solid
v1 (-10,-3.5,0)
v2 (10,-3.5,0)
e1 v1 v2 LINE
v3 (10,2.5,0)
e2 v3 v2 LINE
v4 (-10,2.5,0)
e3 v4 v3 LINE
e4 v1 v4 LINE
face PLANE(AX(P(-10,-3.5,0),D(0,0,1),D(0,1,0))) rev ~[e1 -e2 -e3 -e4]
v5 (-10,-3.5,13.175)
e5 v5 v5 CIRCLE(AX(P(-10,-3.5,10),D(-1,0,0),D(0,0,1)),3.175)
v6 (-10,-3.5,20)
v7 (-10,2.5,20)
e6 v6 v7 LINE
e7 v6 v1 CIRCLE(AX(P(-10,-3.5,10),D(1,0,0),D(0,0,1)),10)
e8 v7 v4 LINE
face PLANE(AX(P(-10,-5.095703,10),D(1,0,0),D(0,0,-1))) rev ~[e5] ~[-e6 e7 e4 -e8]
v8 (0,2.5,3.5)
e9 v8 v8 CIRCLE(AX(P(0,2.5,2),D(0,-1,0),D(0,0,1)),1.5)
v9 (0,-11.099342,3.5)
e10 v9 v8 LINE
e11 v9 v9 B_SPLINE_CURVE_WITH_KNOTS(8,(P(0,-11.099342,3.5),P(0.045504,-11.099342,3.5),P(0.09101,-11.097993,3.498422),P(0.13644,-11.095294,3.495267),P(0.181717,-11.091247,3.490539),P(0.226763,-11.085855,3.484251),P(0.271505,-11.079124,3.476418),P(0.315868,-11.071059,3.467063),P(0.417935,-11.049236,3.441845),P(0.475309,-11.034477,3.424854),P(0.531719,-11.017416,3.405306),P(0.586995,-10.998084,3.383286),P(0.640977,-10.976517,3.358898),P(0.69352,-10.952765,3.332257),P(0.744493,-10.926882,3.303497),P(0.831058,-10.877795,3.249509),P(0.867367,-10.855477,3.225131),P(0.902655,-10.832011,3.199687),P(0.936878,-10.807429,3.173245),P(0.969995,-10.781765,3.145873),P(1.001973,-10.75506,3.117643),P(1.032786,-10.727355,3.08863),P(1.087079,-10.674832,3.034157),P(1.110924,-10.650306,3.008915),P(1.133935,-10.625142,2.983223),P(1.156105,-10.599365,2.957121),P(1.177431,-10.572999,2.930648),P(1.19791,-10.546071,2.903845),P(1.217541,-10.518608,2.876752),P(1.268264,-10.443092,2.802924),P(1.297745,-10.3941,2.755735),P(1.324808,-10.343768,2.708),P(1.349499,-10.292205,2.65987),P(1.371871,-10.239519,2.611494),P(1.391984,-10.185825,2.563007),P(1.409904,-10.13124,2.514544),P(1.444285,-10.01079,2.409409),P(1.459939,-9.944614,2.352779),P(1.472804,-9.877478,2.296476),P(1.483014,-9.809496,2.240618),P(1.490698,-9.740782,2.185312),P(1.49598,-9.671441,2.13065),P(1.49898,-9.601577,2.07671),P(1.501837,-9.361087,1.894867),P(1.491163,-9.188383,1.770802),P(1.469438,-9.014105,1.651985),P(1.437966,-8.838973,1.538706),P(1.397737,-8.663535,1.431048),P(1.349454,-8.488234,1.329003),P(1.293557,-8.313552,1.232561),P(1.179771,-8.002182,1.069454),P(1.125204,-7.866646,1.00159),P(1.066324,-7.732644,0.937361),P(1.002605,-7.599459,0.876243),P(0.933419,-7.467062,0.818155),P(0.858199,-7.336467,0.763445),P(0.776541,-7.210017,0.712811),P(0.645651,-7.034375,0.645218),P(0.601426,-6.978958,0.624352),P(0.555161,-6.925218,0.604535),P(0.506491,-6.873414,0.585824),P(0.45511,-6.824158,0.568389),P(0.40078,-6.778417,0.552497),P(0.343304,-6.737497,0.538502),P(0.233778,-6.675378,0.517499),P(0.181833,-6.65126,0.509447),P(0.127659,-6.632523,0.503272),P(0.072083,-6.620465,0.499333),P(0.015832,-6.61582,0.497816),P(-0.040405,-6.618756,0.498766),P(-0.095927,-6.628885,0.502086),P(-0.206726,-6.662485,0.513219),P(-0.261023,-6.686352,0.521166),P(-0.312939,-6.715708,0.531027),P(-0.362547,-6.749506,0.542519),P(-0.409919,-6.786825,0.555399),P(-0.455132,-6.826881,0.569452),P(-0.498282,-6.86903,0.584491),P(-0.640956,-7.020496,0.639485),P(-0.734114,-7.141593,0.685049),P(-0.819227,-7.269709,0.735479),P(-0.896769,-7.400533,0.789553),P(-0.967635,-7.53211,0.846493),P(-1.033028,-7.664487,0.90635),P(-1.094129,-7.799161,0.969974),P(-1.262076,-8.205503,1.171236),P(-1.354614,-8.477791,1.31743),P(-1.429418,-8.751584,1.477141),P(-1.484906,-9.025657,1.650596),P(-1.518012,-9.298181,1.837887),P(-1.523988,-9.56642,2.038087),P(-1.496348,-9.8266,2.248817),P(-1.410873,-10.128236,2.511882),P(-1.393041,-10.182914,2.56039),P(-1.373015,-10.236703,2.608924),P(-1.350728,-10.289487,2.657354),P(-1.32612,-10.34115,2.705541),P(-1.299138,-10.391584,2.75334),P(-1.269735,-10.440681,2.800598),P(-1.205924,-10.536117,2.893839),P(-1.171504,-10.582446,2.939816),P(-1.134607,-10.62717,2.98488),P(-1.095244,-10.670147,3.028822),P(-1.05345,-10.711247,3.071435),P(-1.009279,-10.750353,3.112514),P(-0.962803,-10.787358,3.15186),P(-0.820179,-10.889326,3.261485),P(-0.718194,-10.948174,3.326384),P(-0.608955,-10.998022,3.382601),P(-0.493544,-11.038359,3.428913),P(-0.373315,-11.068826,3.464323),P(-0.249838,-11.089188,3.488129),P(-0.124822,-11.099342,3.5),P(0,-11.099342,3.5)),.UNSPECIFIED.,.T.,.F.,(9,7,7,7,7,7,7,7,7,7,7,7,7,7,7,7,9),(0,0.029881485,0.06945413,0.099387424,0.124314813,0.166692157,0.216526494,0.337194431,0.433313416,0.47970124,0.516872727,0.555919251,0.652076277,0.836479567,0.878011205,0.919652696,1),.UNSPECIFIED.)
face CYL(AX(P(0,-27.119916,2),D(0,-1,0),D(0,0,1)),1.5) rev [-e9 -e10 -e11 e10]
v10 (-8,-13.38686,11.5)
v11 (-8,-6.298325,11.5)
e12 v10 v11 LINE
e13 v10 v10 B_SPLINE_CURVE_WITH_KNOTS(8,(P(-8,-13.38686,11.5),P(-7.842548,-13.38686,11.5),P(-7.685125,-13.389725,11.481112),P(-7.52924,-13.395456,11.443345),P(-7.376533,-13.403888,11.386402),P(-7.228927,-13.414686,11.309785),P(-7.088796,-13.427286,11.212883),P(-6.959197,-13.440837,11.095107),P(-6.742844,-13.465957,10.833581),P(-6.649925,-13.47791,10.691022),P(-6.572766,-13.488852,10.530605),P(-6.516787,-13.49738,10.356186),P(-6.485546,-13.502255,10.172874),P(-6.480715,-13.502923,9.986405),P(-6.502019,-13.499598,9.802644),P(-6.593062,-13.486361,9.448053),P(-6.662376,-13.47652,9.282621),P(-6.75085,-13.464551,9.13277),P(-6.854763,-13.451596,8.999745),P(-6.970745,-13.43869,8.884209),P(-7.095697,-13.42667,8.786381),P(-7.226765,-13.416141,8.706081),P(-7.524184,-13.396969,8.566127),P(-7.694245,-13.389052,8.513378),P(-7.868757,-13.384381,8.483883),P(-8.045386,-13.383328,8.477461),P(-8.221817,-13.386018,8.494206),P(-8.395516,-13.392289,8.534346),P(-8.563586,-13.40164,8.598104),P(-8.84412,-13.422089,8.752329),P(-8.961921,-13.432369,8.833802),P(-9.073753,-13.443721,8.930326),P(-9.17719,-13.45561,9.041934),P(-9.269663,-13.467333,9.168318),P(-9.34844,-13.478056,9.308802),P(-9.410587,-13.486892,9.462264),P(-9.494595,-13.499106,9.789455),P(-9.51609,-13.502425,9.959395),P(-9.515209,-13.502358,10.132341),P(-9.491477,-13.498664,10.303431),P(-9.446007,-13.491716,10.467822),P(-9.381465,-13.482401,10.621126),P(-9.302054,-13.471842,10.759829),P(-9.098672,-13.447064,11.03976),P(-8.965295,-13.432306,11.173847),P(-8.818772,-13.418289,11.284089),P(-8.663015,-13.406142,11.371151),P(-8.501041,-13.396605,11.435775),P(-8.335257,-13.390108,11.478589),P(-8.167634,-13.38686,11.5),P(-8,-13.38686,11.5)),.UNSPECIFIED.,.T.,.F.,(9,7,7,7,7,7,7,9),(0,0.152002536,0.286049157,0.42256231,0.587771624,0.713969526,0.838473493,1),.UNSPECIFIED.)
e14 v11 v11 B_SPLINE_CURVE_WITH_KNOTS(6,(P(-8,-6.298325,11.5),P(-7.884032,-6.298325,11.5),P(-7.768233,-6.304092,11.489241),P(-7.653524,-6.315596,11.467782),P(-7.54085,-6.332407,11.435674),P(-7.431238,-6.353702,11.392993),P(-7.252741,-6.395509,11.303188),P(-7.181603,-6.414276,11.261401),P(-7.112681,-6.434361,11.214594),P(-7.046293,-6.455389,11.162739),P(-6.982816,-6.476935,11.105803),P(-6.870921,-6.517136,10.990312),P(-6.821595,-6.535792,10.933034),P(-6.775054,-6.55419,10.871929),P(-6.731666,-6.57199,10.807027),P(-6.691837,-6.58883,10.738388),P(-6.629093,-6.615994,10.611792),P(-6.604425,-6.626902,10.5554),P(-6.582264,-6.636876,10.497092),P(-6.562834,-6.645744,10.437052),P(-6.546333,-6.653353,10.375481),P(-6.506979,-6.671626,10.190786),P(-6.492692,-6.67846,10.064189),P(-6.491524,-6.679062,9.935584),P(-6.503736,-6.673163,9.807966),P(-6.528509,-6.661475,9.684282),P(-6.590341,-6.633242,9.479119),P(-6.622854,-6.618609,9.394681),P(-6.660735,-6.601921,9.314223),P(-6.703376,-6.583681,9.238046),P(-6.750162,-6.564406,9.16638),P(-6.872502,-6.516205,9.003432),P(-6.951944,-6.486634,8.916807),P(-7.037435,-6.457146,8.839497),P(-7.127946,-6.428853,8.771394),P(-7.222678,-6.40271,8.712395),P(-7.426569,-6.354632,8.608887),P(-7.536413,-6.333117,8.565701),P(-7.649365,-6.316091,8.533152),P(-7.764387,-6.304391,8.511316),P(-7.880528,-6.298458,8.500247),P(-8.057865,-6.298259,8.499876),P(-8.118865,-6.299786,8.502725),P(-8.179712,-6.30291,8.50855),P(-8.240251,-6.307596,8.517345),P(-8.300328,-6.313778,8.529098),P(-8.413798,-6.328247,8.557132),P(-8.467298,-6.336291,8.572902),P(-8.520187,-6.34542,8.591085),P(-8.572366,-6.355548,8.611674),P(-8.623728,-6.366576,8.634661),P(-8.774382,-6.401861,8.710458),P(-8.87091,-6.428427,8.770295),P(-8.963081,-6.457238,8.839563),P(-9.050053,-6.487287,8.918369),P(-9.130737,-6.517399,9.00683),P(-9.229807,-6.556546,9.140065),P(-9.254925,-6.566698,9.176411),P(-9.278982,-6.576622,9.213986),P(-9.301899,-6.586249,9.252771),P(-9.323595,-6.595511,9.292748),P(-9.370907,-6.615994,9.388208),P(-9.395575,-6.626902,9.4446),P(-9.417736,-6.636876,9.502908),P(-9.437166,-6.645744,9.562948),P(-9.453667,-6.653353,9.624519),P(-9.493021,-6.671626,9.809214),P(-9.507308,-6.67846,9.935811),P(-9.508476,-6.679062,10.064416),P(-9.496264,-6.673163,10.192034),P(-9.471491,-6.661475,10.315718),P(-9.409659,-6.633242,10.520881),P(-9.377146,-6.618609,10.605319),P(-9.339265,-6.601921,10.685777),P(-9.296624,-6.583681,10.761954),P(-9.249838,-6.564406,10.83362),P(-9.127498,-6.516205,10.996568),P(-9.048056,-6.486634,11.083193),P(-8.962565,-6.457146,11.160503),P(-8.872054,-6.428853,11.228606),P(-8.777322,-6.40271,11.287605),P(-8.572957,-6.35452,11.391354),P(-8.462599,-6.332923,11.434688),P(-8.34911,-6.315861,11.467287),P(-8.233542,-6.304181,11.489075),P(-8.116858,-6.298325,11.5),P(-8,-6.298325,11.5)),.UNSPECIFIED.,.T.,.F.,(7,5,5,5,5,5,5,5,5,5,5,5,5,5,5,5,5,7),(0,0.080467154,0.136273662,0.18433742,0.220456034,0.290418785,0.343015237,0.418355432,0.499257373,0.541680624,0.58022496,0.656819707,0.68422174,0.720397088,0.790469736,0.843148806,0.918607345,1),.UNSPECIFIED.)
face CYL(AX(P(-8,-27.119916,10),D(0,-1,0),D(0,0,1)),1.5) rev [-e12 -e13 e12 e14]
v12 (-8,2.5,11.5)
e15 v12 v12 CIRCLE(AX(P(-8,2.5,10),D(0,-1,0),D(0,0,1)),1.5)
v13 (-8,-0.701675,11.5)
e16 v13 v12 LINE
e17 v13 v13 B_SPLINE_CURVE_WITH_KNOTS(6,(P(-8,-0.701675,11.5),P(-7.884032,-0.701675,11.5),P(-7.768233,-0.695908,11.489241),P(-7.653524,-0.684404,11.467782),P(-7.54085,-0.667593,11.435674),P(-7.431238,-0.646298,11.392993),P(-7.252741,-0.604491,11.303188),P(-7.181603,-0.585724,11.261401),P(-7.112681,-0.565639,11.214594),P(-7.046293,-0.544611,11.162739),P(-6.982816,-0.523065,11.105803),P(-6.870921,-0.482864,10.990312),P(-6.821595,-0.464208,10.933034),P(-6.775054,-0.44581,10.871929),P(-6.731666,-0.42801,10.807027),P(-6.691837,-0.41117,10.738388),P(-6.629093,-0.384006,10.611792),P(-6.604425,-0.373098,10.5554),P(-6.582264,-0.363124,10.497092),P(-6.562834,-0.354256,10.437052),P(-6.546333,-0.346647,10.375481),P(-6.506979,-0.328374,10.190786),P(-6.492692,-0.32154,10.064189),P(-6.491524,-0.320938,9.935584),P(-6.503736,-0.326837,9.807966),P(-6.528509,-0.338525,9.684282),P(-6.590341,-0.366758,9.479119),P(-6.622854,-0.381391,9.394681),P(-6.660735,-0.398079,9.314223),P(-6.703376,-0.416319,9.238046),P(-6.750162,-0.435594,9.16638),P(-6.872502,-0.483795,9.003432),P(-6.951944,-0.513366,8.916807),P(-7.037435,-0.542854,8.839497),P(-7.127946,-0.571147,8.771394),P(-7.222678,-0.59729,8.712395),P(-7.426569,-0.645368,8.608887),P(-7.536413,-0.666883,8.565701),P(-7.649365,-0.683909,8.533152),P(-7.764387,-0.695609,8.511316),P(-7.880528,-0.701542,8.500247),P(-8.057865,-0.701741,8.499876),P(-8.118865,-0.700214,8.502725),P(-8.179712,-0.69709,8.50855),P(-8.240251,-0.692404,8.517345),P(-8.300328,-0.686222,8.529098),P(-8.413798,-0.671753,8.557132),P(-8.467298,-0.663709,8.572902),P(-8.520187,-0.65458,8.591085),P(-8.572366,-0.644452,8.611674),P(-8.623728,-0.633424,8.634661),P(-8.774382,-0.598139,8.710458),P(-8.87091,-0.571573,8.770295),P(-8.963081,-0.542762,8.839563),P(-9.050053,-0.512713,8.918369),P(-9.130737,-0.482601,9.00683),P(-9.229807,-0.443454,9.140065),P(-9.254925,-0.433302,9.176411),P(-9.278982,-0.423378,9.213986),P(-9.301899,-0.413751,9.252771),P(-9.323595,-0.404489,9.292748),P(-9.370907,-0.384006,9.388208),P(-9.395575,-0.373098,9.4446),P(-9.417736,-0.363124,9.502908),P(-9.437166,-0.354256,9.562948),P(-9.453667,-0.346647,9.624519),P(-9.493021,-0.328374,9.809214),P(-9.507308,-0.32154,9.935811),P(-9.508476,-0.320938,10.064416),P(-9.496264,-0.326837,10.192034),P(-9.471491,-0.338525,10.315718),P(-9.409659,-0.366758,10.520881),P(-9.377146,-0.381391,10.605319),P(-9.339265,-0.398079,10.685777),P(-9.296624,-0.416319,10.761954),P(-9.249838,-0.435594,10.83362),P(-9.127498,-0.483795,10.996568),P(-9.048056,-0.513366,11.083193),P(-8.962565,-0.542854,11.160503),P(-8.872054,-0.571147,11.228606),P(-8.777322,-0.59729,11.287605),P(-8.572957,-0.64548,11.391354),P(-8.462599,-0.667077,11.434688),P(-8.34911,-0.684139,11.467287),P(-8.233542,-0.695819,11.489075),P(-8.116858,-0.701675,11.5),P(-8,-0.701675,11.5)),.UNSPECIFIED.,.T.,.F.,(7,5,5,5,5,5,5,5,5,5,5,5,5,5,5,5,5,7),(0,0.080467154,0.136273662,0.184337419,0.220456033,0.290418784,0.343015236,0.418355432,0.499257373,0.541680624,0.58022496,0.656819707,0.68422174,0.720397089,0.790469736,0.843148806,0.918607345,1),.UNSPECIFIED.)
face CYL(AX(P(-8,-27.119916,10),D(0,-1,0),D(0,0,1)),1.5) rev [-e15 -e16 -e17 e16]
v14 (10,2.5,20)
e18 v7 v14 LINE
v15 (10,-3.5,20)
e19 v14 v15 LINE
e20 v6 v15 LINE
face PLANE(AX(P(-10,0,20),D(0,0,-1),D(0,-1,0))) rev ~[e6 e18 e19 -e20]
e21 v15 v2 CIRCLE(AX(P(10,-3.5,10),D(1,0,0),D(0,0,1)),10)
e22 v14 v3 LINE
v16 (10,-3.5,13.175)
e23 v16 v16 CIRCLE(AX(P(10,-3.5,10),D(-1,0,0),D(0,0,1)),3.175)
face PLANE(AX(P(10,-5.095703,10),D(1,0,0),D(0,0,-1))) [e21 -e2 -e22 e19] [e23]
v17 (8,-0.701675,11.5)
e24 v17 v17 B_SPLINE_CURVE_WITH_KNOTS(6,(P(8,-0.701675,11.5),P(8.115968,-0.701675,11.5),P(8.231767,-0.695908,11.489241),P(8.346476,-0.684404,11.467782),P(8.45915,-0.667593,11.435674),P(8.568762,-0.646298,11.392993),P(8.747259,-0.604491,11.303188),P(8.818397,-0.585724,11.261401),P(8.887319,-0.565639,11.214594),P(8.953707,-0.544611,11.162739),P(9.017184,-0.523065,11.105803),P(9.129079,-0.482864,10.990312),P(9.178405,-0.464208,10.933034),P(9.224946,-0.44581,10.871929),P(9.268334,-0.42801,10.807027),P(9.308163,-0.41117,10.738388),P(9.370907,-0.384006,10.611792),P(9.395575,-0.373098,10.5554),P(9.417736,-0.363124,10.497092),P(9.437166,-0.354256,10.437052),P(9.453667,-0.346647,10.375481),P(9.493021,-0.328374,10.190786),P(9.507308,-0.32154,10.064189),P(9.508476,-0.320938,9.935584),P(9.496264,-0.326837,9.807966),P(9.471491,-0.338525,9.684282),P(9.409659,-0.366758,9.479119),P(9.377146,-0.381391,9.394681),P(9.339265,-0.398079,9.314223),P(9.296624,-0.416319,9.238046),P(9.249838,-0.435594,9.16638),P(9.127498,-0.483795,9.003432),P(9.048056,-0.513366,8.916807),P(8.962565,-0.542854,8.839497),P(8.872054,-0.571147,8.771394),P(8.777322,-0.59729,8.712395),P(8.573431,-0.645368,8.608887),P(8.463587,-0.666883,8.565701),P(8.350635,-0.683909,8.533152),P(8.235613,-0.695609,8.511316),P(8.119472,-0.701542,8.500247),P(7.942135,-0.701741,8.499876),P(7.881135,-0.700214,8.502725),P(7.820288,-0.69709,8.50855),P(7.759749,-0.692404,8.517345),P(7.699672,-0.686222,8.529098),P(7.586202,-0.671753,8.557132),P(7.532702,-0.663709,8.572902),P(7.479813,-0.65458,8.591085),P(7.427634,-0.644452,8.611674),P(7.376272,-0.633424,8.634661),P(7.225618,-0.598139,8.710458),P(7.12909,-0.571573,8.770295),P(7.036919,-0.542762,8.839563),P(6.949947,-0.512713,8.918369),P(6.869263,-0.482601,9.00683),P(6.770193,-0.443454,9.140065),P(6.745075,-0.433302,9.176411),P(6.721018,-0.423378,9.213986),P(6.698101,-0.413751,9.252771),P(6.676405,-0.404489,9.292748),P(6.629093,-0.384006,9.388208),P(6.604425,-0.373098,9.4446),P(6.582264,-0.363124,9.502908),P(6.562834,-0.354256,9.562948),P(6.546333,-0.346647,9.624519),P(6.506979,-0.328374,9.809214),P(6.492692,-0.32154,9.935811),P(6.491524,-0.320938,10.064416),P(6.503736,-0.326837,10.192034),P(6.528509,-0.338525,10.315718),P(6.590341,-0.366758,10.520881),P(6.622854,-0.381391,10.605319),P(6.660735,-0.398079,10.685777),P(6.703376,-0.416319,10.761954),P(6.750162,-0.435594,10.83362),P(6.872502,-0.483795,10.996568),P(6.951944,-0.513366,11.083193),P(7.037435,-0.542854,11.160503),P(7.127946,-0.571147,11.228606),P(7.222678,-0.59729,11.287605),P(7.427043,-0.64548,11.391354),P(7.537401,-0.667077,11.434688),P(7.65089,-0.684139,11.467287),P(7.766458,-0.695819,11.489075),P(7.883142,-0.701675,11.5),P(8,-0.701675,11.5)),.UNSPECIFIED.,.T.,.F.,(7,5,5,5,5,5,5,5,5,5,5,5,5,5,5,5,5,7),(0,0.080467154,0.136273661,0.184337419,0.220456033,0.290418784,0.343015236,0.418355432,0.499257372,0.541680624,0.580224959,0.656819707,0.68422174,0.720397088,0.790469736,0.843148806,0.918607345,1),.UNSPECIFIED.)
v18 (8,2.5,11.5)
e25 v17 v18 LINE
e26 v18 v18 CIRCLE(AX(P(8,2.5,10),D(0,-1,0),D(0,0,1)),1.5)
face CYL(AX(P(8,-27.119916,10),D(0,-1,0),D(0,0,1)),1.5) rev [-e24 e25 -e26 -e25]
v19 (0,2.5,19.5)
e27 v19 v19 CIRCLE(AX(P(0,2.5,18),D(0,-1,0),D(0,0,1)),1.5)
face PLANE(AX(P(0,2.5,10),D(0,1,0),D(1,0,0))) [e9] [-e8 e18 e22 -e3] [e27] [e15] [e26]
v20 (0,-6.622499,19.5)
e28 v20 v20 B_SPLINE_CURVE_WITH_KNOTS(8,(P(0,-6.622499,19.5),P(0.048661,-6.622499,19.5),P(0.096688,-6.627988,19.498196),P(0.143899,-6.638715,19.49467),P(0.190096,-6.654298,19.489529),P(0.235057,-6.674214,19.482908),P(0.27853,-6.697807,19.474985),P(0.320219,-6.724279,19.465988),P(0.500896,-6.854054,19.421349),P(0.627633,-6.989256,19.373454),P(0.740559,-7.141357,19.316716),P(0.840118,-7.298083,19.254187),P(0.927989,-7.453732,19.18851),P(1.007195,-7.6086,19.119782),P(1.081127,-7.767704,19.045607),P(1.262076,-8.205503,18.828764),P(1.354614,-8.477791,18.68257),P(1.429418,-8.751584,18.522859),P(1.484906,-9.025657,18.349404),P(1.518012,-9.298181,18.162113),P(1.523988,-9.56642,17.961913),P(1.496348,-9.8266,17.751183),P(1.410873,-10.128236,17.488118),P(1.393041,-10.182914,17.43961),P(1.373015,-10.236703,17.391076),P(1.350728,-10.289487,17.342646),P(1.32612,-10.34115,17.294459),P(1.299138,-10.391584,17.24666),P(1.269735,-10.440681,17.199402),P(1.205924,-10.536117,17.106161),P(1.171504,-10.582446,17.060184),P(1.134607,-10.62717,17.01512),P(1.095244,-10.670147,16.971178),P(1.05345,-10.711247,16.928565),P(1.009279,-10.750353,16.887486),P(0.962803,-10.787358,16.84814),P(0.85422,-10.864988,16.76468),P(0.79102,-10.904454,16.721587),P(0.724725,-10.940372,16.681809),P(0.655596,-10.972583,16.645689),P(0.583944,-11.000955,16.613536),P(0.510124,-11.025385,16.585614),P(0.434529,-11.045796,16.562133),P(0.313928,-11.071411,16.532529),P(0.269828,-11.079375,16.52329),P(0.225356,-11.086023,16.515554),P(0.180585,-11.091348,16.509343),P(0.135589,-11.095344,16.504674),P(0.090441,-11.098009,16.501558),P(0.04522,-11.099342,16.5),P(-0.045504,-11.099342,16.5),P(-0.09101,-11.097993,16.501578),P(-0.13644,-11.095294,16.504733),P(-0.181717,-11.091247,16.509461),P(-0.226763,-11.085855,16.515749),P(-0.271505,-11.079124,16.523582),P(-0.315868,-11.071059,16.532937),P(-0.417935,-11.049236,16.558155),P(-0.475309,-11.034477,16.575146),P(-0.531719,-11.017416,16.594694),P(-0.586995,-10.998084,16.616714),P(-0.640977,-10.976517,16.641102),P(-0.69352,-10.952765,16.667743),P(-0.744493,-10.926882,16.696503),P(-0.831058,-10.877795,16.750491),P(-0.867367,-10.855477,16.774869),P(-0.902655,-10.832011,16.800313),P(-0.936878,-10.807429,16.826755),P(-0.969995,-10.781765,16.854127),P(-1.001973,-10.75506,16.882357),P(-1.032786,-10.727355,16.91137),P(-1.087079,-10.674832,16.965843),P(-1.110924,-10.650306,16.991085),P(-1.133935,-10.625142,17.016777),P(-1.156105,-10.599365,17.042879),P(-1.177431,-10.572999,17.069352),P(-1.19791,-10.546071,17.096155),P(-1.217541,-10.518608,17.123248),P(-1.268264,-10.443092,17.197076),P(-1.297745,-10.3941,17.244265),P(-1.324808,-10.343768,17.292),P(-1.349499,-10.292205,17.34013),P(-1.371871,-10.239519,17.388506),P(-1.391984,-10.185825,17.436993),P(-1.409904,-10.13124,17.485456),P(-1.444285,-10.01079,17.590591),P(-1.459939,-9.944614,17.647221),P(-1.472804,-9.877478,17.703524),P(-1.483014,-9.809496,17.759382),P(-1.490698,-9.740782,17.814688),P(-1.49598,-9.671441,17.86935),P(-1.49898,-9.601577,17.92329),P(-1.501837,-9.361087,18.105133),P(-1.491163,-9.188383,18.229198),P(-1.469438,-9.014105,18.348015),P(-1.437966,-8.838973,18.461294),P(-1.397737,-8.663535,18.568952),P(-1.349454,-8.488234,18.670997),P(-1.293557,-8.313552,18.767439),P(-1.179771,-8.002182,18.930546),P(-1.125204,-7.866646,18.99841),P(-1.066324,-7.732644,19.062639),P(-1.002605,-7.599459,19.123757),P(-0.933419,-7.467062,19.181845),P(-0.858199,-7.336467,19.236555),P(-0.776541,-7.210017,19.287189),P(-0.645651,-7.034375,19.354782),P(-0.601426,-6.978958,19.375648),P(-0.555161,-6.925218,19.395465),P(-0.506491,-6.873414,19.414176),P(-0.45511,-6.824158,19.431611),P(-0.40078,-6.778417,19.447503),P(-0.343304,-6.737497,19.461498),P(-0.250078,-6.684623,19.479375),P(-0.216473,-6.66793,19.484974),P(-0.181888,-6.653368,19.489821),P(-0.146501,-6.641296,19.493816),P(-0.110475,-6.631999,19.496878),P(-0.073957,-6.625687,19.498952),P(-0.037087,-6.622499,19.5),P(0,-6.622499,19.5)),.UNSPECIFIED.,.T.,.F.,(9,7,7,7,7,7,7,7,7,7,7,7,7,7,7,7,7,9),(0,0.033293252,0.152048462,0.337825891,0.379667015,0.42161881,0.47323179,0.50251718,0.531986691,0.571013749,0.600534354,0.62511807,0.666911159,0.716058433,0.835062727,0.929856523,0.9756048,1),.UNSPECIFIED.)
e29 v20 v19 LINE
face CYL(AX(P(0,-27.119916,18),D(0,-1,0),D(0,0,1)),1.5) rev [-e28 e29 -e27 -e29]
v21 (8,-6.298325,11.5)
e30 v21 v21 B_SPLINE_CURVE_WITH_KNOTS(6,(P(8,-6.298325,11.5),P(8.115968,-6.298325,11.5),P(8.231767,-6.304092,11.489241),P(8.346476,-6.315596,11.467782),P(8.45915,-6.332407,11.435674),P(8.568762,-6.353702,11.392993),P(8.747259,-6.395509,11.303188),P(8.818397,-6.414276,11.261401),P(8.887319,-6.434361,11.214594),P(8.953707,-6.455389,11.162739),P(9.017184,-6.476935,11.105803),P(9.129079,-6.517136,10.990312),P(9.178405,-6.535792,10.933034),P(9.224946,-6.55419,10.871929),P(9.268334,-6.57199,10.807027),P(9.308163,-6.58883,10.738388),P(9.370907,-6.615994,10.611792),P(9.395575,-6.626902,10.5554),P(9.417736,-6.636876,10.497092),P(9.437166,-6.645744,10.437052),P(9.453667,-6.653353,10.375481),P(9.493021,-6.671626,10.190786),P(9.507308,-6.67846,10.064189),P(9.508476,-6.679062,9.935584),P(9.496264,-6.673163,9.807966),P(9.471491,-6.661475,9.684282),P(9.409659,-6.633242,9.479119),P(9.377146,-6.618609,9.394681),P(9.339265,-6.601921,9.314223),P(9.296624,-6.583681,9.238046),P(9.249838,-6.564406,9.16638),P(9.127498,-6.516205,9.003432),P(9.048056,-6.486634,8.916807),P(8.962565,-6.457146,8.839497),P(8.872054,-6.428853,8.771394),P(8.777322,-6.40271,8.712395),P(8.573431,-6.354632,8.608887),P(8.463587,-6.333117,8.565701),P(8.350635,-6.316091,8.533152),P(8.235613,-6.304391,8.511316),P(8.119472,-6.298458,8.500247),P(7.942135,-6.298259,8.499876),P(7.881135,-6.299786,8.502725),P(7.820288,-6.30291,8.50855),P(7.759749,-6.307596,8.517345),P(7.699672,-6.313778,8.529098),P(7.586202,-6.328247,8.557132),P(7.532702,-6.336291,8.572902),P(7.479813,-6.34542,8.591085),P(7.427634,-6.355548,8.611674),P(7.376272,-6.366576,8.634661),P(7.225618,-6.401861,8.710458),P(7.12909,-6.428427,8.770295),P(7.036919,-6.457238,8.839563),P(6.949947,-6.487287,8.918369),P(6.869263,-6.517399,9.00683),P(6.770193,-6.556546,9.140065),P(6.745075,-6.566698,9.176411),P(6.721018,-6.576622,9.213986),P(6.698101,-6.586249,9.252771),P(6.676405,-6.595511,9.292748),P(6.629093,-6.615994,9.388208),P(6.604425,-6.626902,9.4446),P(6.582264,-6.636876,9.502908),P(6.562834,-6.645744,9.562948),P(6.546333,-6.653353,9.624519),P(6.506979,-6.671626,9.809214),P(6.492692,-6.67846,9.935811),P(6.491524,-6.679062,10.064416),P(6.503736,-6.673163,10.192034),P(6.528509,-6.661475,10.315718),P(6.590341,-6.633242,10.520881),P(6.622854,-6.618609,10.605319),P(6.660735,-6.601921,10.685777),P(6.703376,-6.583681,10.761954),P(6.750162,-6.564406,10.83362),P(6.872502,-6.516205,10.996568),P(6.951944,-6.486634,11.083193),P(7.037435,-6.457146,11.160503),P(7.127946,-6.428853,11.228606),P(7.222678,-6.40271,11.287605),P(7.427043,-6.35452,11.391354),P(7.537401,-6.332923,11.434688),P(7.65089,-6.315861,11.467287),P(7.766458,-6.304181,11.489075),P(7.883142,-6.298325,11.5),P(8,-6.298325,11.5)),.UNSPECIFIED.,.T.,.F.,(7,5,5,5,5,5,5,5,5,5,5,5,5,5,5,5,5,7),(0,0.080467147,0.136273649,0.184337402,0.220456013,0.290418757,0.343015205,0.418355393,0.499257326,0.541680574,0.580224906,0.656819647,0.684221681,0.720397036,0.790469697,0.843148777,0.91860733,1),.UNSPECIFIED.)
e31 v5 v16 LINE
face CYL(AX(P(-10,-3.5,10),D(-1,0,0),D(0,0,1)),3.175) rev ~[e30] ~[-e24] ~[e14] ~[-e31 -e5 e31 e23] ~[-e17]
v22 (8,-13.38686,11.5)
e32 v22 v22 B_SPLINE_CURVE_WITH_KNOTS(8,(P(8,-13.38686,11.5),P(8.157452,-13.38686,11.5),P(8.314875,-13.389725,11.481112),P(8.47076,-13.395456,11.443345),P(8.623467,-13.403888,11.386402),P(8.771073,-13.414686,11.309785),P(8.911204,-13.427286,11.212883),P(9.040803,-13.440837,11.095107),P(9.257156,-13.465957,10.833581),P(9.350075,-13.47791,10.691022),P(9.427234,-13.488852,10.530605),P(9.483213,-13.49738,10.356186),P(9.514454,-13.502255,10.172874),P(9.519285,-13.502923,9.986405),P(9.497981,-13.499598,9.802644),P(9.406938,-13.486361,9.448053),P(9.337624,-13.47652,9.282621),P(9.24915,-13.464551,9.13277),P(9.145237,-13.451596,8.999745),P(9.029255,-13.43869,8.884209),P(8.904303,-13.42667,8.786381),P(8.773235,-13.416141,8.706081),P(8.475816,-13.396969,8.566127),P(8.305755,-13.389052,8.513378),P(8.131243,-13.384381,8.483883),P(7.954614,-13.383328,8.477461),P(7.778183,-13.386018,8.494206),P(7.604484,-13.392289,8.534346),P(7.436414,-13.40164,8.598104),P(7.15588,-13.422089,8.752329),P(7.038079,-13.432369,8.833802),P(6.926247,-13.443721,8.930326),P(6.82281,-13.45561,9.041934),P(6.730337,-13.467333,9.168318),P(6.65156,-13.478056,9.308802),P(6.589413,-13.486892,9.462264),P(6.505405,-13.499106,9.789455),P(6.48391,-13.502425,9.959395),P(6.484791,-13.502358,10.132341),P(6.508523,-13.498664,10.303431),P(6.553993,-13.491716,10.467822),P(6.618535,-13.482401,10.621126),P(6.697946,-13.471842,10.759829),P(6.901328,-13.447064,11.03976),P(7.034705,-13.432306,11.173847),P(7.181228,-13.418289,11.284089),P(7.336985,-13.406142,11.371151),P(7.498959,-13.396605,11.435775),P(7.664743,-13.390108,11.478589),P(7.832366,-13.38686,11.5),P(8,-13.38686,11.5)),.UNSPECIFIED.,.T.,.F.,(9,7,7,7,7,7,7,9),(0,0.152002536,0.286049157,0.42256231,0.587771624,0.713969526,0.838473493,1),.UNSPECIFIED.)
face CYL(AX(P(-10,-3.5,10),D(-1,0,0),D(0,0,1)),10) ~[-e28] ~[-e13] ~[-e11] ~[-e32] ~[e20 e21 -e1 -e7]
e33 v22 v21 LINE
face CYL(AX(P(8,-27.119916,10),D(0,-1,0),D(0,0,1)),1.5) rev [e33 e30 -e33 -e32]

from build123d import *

# Parameters (mm, degrees)
SKETCH1_W               = 20
SKETCH1_H               = 20
SKETCH1_R               = 1.5
SKETCH1_R_2             = 8
BOSS_EXTRUDE1_DEPTH     = 2.5
SKETCH2_R               = 3.175
BOSS_EXTRUDE2_DEPTH     = 20
CUT_EXTRUDE2_DEPTH      = 27.119915773
CUT_EXTRUDE2_DEPTH_BACK = 27.119915773
SKETCH1_3_R             = 1.5


with BuildPart() as part:
    # Sketch1 → Boss-Extrude1 (new body)
    # profile 1 of 18: a face of its own
    with BuildSketch(Plane(origin=(0, 0, 0), x_dir=(1, 0, 0), z_dir=(0, 1, 0))):
        with Locations((0, -10)):
            Rectangle(SKETCH1_W, SKETCH1_H)
        with Locations((0, -2)):
            Circle(SKETCH1_R, mode=Mode.SUBTRACT)
        with Locations((0, -10)):
            Circle(SKETCH1_R_2, mode=Mode.SUBTRACT)
        with Locations((8, -10)):
            Circle(SKETCH1_R, mode=Mode.SUBTRACT)
        with Locations((0, -18)):
            Circle(SKETCH1_R, mode=Mode.SUBTRACT)
        with Locations((-8, -10)):
            Circle(SKETCH1_R, mode=Mode.SUBTRACT)
    # profile 2 of 18: a face of its own
    with BuildSketch(Plane(origin=(0, 0, 0), x_dir=(1, 0, 0), z_dir=(0, 1, 0))):
        with Locations((8, -10)):
            Circle(SKETCH1_R)
    # profile 3 of 18: a face of its own
    with BuildSketch(Plane(origin=(0, 0, 0), x_dir=(1, 0, 0), z_dir=(0, 1, 0))):
        with Locations((0, -18)):
            Circle(SKETCH1_R)
    # profile 4 of 18: a face of its own
    with BuildSketch(Plane(origin=(0, 0, 0), x_dir=(1, 0, 0), z_dir=(0, 1, 0))):
        with Locations((-8, -10)):
            Circle(SKETCH1_R)
    # profile 5 of 18: a face of its own
    with BuildSketch(Plane(origin=(0, 0, 0), x_dir=(1, 0, 0), z_dir=(0, 1, 0))):
        with Locations((0, -10)):
            Circle(SKETCH1_R_2)
    # profile 6 of 18: a face of its own
    with BuildSketch(Plane(origin=(0, 0, 0), x_dir=(1, 0, 0), z_dir=(0, 1, 0))):
        with Locations((0, -2)):
            Circle(SKETCH1_R)
    # profile 7 of 18: a face of its own
    with BuildSketch(Plane(origin=(0, 0, 0), x_dir=(1, 0, 0), z_dir=(0, 1, 0))):
        with Locations((0, -10)):
            Circle(SKETCH1_R_2)
    # profile 8 of 18: a face of its own
    with BuildSketch(Plane(origin=(0, 0, 0), x_dir=(1, 0, 0), z_dir=(0, 1, 0))):
        with Locations((8, -10)):
            Circle(SKETCH1_R)
    # profile 9 of 18: a face of its own
    with BuildSketch(Plane(origin=(0, 0, 0), x_dir=(1, 0, 0), z_dir=(0, 1, 0))):
        with Locations((0, -10)):
            Circle(SKETCH1_R_2)
    # profile 10 of 18: a face of its own
    with BuildSketch(Plane(origin=(0, 0, 0), x_dir=(1, 0, 0), z_dir=(0, 1, 0))):
        with Locations((0, -18)):
            Circle(SKETCH1_R)
    # profile 11 of 18: a face of its own
    with BuildSketch(Plane(origin=(0, 0, 0), x_dir=(1, 0, 0), z_dir=(0, 1, 0))):
        with Locations((0, -10)):
            Circle(SKETCH1_R_2)
    # profile 12 of 18: a face of its own
    with BuildSketch(Plane(origin=(0, 0, 0), x_dir=(1, 0, 0), z_dir=(0, 1, 0))):
        with Locations((0, -18)):
            Circle(SKETCH1_R)
    # profile 13 of 18: a face of its own
    with BuildSketch(Plane(origin=(0, 0, 0), x_dir=(1, 0, 0), z_dir=(0, 1, 0))):
        with Locations((0, -10)):
            Circle(SKETCH1_R_2)
    # profile 14 of 18: a face of its own
    with BuildSketch(Plane(origin=(0, 0, 0), x_dir=(1, 0, 0), z_dir=(0, 1, 0))):
        with Locations((-8, -10)):
            Circle(SKETCH1_R)
    # profile 15 of 18: a face of its own
    with BuildSketch(Plane(origin=(0, 0, 0), x_dir=(1, 0, 0), z_dir=(0, 1, 0))):
        with Locations((0, -10)):
            Circle(SKETCH1_R_2)
    # profile 16 of 18: a face of its own
    with BuildSketch(Plane(origin=(0, 0, 0), x_dir=(1, 0, 0), z_dir=(0, 1, 0))):
        with Locations((-8, -10)):
            Circle(SKETCH1_R)
    # profile 17 of 18: a face of its own
    with BuildSketch(Plane(origin=(0, 0, 0), x_dir=(1, 0, 0), z_dir=(0, 1, 0))):
        with Locations((0, -10)):
            Circle(SKETCH1_R_2)
    # profile 18 of 18: a face of its own
    with BuildSketch(Plane(origin=(0, 0, 0), x_dir=(1, 0, 0), z_dir=(0, 1, 0))):
        with Locations((8, -10)):
            Circle(SKETCH1_R)
    extrude(amount=BOSS_EXTRUDE1_DEPTH)

    # Sketch2 → Boss-Extrude2 (add)
    with BuildSketch(Plane.ZY.offset(10)):
        with BuildLine():
            Line((0, 0), (20, 0))
            Line((20, 0), (20, -3.5))
            ThreePointArc((20, -3.5), (10, -13.5), (0, -3.5))
            Line((0, -3.5), (0, 0))
        make_face()
        with Locations((10, -3.5)):
            Circle(SKETCH2_R, mode=Mode.SUBTRACT)
    extrude(amount=-BOSS_EXTRUDE2_DEPTH)

    # Sketch1<3> → Cut-Extrude2 (cut, two sides: drawn at the far end of the back side and taken through both)
    with BuildSketch(Plane(origin=(0, 0, 0), x_dir=(1, 0, 0), z_dir=(0, 1, 0)).offset(-CUT_EXTRUDE2_DEPTH_BACK)):
        with Locations(Location((8, -10, 0), (0, 0, 270))):
            Circle(SKETCH1_3_R)
        with Locations(Location((0, -18, 0), (0, 0, 270))):
            Circle(SKETCH1_3_R)
        with Locations(Location((-8, -10, 0), (0, 0, 270))):
            Circle(SKETCH1_3_R)
        with Locations(Location((0, -2, 0), (0, 0, 270))):
            Circle(SKETCH1_3_R)
    extrude(amount=CUT_EXTRUDE2_DEPTH + CUT_EXTRUDE2_DEPTH_BACK, mode=Mode.SUBTRACT)


solid = part.part
